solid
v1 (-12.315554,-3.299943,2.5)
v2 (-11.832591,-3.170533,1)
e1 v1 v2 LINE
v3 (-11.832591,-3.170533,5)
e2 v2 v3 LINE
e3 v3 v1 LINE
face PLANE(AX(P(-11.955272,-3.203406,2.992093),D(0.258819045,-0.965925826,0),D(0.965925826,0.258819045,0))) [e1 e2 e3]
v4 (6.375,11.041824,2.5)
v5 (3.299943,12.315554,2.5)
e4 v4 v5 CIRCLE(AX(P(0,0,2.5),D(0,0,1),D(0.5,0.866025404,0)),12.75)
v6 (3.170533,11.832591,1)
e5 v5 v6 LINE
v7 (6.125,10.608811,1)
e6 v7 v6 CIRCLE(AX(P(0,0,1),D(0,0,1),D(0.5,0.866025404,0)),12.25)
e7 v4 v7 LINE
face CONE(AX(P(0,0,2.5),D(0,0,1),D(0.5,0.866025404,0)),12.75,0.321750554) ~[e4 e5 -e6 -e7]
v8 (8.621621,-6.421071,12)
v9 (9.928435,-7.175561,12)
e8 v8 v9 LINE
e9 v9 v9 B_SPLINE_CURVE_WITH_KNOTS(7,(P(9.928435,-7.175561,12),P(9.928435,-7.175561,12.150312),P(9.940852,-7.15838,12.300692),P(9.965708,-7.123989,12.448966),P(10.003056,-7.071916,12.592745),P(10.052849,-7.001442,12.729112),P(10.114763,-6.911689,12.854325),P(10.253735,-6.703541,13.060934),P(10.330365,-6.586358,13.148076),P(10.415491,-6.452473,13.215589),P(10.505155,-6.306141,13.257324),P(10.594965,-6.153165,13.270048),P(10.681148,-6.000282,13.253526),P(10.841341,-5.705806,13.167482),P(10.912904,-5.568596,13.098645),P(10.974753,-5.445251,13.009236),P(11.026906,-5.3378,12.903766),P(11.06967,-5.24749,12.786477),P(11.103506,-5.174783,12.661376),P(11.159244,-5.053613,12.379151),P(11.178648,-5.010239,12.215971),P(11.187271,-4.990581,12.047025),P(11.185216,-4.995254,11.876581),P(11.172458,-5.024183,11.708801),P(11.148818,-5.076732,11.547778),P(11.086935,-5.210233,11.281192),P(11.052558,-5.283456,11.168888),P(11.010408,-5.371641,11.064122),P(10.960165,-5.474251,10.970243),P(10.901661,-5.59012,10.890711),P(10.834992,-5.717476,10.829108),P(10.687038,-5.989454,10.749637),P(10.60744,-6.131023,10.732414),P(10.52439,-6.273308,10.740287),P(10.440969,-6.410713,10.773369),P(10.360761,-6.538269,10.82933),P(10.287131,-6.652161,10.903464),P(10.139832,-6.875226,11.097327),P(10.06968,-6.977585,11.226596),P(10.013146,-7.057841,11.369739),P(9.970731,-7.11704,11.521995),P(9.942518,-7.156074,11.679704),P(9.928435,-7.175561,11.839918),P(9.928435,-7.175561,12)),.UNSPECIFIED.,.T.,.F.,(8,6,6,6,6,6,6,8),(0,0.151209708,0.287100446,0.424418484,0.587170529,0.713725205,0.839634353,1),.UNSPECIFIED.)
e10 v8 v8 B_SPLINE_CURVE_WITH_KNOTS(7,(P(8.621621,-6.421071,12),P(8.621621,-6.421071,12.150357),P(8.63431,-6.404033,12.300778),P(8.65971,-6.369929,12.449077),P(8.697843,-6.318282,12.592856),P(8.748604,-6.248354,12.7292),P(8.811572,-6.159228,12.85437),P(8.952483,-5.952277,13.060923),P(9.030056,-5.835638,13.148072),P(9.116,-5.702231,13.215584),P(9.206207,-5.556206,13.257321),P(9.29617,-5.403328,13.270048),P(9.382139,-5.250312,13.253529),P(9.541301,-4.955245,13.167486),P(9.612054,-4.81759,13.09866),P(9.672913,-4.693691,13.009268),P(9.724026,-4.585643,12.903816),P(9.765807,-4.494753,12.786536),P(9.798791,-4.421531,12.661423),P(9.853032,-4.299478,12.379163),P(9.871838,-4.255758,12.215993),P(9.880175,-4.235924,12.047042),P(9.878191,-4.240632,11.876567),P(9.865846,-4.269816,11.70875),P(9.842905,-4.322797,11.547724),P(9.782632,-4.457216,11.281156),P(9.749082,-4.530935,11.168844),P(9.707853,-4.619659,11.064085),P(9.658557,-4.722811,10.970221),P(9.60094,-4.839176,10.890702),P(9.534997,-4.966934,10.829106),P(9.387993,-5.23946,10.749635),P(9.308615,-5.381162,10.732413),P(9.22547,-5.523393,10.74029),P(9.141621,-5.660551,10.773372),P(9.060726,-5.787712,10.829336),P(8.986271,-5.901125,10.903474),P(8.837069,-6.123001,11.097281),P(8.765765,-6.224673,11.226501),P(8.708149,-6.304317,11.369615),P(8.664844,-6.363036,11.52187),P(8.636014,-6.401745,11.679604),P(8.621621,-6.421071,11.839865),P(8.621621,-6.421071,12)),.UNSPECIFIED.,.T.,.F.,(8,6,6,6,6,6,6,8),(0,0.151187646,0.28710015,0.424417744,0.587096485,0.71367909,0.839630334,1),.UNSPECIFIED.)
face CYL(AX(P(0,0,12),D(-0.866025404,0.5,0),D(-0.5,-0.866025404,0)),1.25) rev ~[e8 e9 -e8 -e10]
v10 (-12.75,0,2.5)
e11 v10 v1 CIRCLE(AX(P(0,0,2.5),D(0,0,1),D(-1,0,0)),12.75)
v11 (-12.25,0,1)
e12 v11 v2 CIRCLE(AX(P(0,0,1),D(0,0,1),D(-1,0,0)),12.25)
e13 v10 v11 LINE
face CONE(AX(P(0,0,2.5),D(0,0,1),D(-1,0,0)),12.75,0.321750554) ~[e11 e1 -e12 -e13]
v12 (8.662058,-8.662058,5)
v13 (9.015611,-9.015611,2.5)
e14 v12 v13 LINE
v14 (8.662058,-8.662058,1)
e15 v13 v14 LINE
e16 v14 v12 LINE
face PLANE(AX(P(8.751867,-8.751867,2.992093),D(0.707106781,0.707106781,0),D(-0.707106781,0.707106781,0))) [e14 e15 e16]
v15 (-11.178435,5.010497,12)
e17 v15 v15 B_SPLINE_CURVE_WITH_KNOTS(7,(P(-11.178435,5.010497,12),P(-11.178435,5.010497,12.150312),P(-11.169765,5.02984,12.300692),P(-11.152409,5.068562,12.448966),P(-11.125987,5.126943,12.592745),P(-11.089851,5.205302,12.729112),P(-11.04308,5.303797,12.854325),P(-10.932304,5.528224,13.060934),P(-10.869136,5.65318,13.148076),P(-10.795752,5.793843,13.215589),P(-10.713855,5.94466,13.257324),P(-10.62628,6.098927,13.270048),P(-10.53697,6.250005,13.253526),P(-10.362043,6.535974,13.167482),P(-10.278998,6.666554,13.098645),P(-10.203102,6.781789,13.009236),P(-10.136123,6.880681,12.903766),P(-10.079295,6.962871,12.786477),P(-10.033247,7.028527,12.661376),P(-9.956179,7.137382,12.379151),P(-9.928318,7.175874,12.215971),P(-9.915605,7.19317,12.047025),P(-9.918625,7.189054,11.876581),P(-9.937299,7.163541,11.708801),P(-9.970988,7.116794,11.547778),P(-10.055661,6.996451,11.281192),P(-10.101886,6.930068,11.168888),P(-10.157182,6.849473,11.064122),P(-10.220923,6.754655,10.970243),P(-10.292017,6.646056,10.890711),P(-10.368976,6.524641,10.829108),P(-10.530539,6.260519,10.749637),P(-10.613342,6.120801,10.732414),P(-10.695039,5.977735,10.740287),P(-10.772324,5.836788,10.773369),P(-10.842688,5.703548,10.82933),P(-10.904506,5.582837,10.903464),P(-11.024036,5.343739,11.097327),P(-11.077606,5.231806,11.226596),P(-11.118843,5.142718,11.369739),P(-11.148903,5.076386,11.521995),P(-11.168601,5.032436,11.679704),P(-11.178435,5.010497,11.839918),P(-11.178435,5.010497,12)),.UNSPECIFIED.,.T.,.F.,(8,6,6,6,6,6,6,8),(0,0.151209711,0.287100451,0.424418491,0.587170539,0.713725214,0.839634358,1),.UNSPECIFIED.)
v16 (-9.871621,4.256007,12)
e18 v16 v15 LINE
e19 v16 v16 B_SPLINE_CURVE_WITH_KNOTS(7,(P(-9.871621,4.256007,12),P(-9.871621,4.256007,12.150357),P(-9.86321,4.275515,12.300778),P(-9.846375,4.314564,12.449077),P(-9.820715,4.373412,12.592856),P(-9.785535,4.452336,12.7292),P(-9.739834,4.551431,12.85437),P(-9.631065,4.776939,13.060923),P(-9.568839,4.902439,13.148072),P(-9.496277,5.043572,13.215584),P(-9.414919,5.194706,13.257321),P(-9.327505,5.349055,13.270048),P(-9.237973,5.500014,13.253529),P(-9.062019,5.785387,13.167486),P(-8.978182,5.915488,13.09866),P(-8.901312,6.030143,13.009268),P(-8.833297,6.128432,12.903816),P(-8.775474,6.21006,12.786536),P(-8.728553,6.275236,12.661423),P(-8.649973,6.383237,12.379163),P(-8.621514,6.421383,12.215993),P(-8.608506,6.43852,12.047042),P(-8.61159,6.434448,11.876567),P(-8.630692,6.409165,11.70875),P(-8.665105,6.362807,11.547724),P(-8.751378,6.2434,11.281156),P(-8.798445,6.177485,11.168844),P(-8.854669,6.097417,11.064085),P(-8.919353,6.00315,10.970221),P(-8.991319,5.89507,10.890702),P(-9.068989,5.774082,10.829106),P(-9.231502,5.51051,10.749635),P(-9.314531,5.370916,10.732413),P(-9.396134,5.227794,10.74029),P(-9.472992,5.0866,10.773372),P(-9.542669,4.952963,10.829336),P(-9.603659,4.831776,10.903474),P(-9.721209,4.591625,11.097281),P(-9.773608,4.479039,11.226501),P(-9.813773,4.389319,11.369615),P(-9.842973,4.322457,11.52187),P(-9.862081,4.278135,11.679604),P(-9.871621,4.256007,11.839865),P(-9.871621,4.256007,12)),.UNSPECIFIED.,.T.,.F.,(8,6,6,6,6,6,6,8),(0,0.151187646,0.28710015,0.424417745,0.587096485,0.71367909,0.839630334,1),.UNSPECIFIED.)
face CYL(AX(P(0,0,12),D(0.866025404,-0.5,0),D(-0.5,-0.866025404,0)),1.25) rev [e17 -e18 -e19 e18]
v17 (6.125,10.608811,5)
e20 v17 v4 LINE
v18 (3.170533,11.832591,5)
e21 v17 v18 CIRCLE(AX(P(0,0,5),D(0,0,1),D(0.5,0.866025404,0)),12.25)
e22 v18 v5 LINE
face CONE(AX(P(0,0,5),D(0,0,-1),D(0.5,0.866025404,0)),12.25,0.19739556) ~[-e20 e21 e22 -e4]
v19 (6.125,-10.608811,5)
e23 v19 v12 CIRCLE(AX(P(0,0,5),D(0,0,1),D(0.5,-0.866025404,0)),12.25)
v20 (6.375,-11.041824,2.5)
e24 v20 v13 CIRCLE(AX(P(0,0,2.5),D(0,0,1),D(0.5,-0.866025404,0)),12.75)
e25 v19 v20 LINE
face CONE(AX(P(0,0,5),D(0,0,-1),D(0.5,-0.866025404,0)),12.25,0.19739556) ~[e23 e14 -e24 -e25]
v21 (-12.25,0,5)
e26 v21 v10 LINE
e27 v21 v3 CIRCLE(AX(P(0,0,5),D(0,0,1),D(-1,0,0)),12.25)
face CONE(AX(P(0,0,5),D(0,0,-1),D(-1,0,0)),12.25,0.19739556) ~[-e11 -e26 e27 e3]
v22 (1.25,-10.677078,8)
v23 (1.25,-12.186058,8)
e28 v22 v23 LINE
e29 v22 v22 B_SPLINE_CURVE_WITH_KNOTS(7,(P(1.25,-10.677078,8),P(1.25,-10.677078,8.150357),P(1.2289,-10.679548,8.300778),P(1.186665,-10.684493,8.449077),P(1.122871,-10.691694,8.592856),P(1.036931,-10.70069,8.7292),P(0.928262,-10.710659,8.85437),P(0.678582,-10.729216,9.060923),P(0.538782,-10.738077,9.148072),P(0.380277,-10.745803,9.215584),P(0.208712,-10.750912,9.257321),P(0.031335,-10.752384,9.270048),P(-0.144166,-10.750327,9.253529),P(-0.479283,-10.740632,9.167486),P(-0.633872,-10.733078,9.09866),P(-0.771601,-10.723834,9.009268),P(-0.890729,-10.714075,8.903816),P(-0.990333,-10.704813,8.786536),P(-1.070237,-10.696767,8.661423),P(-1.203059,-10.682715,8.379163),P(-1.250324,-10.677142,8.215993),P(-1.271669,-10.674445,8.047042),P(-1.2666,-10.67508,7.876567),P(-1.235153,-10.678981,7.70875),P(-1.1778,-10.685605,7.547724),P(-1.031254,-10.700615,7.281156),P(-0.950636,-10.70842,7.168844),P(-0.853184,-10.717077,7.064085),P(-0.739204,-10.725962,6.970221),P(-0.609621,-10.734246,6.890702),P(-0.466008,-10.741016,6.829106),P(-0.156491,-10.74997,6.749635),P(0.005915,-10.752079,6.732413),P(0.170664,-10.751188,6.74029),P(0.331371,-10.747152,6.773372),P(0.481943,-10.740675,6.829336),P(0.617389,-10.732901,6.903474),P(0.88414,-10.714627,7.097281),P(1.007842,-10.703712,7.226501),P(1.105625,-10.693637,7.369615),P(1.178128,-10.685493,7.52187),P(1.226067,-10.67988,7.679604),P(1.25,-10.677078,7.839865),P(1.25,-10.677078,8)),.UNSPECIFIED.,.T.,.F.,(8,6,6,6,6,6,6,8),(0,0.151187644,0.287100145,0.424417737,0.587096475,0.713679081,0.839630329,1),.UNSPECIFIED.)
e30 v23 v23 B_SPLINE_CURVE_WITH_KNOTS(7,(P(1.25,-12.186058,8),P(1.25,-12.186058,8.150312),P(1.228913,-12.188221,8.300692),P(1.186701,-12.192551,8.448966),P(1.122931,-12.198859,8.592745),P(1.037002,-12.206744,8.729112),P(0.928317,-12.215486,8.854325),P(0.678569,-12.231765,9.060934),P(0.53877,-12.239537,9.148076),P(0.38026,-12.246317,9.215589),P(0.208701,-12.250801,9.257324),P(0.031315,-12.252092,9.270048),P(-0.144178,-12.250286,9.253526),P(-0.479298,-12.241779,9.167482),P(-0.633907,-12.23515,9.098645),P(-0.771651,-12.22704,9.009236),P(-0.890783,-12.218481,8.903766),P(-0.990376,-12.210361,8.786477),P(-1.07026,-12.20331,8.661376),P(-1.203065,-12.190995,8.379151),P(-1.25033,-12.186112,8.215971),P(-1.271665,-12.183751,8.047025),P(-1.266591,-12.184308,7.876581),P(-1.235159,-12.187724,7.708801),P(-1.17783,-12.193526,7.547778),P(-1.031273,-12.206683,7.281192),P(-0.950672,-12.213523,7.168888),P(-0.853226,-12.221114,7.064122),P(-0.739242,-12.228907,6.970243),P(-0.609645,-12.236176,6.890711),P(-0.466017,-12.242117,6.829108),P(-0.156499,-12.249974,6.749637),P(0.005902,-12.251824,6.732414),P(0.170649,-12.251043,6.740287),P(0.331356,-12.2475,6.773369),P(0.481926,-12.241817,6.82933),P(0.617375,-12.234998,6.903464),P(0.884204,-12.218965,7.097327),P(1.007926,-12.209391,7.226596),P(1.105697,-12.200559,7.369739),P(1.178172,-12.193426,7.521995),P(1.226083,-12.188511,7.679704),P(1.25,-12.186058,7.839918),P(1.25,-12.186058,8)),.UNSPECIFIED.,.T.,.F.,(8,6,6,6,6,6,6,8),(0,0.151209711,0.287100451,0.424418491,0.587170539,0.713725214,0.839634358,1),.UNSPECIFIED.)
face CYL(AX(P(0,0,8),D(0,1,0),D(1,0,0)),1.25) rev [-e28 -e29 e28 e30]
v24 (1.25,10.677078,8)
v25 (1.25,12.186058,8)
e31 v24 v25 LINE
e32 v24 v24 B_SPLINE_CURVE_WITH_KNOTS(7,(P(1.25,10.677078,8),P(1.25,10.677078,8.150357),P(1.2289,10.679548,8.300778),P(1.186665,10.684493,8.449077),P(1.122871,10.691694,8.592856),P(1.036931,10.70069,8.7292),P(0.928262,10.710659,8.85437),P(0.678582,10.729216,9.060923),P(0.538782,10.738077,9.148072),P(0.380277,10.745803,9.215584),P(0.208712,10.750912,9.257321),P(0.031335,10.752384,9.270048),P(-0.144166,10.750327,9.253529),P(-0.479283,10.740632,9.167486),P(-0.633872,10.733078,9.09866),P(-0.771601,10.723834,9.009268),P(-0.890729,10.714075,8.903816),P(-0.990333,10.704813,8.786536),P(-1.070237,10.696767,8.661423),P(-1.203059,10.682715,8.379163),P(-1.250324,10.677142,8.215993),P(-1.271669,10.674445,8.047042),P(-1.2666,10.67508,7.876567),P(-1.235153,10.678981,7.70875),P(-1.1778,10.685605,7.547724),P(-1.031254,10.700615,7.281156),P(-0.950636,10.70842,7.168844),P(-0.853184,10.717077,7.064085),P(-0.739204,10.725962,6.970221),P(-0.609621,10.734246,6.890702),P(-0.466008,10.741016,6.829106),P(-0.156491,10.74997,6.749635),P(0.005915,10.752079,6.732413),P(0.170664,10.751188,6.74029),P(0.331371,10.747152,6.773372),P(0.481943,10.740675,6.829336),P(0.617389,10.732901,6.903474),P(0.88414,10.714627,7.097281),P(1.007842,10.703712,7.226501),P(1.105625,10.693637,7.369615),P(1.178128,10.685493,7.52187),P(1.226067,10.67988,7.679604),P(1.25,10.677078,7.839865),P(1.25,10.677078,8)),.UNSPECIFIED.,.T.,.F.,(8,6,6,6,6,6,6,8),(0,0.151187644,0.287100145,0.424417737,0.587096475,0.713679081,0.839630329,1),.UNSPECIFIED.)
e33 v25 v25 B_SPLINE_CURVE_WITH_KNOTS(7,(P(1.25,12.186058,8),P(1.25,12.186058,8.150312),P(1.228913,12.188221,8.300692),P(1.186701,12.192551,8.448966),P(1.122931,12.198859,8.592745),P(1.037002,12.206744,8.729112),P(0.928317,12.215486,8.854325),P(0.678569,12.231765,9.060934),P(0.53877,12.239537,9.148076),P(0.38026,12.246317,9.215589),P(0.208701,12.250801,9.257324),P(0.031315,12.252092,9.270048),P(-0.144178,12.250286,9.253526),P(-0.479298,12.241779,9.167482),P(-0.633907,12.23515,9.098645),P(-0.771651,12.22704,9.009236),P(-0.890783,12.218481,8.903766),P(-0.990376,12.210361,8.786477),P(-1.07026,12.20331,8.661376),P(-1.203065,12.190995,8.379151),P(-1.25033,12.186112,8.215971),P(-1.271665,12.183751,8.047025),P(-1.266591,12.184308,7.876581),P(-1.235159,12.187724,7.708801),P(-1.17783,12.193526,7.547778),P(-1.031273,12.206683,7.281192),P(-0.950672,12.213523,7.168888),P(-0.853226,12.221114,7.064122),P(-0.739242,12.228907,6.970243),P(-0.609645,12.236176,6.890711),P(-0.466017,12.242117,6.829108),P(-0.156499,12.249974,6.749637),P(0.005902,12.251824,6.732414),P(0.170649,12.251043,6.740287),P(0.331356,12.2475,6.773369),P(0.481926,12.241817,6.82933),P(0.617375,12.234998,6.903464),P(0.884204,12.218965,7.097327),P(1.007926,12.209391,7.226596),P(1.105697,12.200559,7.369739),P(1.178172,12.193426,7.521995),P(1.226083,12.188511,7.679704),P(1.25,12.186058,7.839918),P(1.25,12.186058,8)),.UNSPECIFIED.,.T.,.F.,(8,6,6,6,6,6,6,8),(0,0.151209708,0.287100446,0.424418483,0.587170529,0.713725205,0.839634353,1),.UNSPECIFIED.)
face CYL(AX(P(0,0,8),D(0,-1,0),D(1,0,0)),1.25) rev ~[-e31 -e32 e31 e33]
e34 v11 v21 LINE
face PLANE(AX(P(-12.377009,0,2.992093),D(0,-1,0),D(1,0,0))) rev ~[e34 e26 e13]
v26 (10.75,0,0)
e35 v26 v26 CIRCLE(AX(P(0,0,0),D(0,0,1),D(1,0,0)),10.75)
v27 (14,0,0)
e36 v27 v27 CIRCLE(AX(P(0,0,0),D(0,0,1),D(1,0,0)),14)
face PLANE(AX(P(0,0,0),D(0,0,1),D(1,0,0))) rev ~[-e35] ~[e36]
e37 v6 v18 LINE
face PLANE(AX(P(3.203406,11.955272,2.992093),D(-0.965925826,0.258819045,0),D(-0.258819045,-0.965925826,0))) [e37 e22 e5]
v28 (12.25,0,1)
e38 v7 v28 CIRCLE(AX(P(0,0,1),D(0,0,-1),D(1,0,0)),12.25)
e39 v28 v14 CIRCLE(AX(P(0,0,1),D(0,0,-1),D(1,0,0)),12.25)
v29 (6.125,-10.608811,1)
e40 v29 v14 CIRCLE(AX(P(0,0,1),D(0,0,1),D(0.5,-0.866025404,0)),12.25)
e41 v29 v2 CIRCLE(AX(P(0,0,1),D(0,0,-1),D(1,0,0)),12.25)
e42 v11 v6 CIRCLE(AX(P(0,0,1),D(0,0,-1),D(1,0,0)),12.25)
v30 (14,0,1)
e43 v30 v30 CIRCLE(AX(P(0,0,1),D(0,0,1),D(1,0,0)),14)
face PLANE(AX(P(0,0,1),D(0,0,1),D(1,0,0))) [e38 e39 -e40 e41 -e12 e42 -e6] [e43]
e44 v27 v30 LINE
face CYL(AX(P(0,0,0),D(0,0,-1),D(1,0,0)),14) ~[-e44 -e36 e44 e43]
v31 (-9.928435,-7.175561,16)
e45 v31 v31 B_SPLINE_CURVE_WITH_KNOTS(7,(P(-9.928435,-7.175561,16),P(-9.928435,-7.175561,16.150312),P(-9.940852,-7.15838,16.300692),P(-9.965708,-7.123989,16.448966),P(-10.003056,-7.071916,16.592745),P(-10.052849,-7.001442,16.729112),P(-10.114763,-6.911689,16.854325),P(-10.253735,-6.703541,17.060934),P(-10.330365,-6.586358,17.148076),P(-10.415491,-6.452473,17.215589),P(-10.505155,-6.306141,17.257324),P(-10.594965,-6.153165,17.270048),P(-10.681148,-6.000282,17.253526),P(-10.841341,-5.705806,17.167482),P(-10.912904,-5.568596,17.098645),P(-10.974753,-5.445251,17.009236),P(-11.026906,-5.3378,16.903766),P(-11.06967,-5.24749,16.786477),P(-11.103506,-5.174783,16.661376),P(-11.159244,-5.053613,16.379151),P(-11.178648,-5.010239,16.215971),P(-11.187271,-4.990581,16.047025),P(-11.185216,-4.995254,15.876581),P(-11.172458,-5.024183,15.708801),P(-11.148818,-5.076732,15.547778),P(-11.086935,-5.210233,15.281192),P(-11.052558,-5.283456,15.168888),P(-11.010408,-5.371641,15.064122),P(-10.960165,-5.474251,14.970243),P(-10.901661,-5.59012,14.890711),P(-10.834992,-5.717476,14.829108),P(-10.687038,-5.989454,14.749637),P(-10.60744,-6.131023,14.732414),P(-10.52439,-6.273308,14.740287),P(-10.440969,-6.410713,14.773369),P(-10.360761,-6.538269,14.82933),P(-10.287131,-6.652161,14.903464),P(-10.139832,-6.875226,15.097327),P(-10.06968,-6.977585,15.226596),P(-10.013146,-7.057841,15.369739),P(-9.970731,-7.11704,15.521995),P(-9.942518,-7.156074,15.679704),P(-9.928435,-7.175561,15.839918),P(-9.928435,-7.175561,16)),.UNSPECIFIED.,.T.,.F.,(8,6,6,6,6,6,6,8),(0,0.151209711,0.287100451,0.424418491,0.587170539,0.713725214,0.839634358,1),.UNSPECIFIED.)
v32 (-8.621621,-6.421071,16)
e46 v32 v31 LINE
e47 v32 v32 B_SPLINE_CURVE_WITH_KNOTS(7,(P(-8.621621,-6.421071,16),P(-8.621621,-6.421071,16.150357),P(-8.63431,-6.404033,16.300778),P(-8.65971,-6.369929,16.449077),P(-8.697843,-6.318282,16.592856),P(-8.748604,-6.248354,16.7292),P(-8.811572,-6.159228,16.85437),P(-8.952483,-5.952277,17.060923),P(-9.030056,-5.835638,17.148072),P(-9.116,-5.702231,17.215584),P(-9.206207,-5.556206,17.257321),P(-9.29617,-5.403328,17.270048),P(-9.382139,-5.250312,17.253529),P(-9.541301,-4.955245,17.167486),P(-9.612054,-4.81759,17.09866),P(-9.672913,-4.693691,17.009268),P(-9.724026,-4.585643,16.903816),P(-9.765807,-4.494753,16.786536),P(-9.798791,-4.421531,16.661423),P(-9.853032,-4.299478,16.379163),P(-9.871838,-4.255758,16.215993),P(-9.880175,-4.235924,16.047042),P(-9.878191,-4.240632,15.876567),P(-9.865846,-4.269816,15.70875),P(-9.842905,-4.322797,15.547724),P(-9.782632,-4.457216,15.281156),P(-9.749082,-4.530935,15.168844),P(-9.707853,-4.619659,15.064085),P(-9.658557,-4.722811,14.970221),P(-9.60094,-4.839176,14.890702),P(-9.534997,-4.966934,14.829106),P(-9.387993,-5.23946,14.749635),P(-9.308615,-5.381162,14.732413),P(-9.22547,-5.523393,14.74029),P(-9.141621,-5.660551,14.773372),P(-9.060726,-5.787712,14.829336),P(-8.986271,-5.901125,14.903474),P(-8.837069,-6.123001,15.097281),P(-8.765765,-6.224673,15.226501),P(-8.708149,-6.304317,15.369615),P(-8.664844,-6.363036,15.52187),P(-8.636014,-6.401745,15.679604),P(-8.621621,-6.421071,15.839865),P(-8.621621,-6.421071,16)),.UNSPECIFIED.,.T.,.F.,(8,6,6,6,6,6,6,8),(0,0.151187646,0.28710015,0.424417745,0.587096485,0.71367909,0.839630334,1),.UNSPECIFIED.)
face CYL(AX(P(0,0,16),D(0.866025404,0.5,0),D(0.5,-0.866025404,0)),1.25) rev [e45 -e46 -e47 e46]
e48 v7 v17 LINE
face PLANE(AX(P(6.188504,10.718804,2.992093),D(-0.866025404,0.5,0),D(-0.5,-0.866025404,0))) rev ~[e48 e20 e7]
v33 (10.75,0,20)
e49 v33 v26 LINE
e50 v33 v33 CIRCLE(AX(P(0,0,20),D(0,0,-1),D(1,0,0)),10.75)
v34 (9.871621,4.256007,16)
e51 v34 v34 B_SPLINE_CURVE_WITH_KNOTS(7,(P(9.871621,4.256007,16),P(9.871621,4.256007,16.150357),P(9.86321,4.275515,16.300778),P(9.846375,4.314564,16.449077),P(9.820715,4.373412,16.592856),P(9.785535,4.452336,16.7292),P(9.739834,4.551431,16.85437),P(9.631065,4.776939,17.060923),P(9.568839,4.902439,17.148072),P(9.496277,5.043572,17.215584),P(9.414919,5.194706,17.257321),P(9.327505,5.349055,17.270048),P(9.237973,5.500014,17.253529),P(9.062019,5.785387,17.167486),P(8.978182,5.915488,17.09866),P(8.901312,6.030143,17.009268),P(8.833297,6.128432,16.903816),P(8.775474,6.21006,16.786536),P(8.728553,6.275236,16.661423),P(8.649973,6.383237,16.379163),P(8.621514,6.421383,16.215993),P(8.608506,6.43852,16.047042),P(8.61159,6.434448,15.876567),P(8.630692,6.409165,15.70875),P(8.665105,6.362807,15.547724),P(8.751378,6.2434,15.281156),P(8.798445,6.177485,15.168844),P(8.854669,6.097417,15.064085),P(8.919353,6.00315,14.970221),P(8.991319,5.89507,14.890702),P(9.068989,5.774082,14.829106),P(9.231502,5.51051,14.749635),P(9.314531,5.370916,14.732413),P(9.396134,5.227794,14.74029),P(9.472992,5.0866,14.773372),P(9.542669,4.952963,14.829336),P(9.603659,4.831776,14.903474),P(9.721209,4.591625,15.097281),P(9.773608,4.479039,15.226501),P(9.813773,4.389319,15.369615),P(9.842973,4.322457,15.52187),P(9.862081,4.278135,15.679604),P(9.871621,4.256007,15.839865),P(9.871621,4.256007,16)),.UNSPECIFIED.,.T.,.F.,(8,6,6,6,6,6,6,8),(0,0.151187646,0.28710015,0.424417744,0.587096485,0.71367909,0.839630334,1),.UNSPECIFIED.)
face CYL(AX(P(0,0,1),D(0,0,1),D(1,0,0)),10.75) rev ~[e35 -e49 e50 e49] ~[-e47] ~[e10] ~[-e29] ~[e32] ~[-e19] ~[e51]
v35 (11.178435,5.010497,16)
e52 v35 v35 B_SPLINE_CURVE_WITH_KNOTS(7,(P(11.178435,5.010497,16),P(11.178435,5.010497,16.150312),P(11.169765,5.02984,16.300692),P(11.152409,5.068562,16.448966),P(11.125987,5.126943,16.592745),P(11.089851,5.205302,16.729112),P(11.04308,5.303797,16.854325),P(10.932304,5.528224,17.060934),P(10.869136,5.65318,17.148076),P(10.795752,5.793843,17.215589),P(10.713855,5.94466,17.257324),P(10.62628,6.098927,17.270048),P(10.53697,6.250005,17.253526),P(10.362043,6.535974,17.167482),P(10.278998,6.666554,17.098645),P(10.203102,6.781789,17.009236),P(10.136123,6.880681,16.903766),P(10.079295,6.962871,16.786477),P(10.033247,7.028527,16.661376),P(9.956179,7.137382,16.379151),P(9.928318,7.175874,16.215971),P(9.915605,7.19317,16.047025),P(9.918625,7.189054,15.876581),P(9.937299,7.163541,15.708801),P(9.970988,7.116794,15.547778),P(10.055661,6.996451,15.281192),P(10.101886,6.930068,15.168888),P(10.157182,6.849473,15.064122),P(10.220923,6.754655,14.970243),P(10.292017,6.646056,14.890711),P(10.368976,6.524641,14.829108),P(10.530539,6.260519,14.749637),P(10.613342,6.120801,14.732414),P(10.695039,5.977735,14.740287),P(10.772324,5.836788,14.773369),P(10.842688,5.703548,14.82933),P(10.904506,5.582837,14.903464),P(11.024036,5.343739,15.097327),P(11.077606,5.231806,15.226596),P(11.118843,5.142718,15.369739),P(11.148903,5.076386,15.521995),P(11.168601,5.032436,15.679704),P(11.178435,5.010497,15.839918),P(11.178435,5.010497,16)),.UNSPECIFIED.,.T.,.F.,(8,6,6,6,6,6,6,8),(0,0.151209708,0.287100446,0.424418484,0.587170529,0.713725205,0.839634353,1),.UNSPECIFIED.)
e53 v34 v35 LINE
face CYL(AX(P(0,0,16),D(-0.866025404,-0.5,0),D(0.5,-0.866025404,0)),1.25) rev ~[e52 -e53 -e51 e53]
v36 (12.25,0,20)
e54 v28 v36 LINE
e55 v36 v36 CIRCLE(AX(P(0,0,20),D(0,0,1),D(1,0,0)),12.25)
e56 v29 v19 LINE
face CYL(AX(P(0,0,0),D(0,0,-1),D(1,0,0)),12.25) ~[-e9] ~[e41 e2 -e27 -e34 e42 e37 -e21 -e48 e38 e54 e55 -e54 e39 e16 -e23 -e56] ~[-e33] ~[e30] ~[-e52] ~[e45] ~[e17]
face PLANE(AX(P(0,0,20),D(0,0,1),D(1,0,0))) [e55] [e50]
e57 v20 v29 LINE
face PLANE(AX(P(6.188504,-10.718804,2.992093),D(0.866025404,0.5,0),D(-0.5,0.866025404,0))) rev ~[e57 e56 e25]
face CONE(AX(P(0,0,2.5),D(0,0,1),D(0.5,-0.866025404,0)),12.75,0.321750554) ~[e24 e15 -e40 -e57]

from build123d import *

# Parameters (mm, degrees)
F0_R           = 14
F1_DEPTH       = 1
F2_R           = 12.25
F3_DEPTH       = 20
F5_R           = 10.75
F6_DEPTH       = 25
F10_R          = 1.25
F11_DEPTH      = 14.001
F11_DEPTH_BACK = 25
F12_R          = 1.25
F13_DEPTH      = 25
F13_DEPTH_BACK = 25
F14_R          = 1.25
F15_DEPTH      = 25
F15_DEPTH_BACK = 25
F16_DEPTH      = 10
F18_ANGLE      = 15
F19_COUNT      = 3


with BuildPart() as f1:
    # F0 (on Top) → F1 (new body)
    with BuildSketch(Plane.XY):
        Circle(F0_R)
    extrude(amount=F1_DEPTH)


with BuildPart() as f3:
    # F2 (on Top) → F3 (new body)
    with BuildSketch(Plane.XY):
        Circle(F2_R)
    extrude(amount=F3_DEPTH)

    # F5 (on offset) → F6 (cut)
    with BuildSketch(Plane.XY.offset(1)):
        Circle(F5_R)
    extrude(amount=F6_DEPTH, mode=Mode.SUBTRACT)

    # F10 (on Front) → F11 (cut, two sides)
    with BuildSketch(Plane.XZ) as f11_sk:
        with Locations((0, 8)):
            Circle(F10_R)
    extrude(amount=-F11_DEPTH, mode=Mode.SUBTRACT)
    extrude(f11_sk.sketch, amount=F11_DEPTH_BACK, mode=Mode.SUBTRACT)

    # F12 (on line) → F13 (cut, two sides)
    with BuildSketch(Plane(origin=(0, 0, 0), x_dir=(-0.5, -0.8660254038, 0), z_dir=(-0.8660254038, 0.5, 0))) as f13_sk:
        with Locations((0, 12)):
            Circle(F12_R)
    extrude(amount=-F13_DEPTH, mode=Mode.SUBTRACT)
    extrude(f13_sk.sketch, amount=F13_DEPTH_BACK, mode=Mode.SUBTRACT)

    # F14 (on line) → F15 (cut, two sides)
    with BuildSketch(Plane(origin=(0, 0, 0), x_dir=(0.5, -0.8660254038, 0), z_dir=(-0.8660254038, -0.5, 0))) as f15_sk:
        with Locations((0, 16)):
            Circle(F14_R)
    extrude(amount=-F15_DEPTH, mode=Mode.SUBTRACT)
    extrude(f15_sk.sketch, amount=F15_DEPTH_BACK, mode=Mode.SUBTRACT)


with BuildPart() as f16_tool:
    # F5 (on offset) → F16 (new body)
    with BuildSketch(Plane.XY.offset(1)):
        Circle(F5_R)
    extrude(amount=-F16_DEPTH)


with BuildPart() as f1_1:
    add(f1.part)

    # F16: cut by f16_tool
    add(f16_tool.part, mode=Mode.SUBTRACT)



with BuildPart() as f3_1:
    add(f3.part)

    # F16: cut by f16_tool
    add(f16_tool.part, mode=Mode.SUBTRACT)


with BuildPart() as f18:
    # F17 (on Front) → F18 (revolve)
    with BuildSketch(Plane.XZ):
        Polygon((-12.75, 2.5), (-12.25, 1), (-12.25, 5), align=None)
    revolve(axis=Axis((0, 0, 28.278902173), (0, 0, 1)), revolution_arc=F18_ANGLE)


with BuildPart() as f1_2:
    add(f1_1.part)

    add(f3_1.part)  # F19 merges F3

    add(f18.part)  # F19 merges F18
    # F19: F18 ×3 about axis
    f19_axis = Axis((0, 0, 28.278902173), (0, 0, 1))
    for i in range(1, F19_COUNT):
        add(f18.part.rotate(f19_axis, i * 360 / F19_COUNT))


solid = f1_2.part
